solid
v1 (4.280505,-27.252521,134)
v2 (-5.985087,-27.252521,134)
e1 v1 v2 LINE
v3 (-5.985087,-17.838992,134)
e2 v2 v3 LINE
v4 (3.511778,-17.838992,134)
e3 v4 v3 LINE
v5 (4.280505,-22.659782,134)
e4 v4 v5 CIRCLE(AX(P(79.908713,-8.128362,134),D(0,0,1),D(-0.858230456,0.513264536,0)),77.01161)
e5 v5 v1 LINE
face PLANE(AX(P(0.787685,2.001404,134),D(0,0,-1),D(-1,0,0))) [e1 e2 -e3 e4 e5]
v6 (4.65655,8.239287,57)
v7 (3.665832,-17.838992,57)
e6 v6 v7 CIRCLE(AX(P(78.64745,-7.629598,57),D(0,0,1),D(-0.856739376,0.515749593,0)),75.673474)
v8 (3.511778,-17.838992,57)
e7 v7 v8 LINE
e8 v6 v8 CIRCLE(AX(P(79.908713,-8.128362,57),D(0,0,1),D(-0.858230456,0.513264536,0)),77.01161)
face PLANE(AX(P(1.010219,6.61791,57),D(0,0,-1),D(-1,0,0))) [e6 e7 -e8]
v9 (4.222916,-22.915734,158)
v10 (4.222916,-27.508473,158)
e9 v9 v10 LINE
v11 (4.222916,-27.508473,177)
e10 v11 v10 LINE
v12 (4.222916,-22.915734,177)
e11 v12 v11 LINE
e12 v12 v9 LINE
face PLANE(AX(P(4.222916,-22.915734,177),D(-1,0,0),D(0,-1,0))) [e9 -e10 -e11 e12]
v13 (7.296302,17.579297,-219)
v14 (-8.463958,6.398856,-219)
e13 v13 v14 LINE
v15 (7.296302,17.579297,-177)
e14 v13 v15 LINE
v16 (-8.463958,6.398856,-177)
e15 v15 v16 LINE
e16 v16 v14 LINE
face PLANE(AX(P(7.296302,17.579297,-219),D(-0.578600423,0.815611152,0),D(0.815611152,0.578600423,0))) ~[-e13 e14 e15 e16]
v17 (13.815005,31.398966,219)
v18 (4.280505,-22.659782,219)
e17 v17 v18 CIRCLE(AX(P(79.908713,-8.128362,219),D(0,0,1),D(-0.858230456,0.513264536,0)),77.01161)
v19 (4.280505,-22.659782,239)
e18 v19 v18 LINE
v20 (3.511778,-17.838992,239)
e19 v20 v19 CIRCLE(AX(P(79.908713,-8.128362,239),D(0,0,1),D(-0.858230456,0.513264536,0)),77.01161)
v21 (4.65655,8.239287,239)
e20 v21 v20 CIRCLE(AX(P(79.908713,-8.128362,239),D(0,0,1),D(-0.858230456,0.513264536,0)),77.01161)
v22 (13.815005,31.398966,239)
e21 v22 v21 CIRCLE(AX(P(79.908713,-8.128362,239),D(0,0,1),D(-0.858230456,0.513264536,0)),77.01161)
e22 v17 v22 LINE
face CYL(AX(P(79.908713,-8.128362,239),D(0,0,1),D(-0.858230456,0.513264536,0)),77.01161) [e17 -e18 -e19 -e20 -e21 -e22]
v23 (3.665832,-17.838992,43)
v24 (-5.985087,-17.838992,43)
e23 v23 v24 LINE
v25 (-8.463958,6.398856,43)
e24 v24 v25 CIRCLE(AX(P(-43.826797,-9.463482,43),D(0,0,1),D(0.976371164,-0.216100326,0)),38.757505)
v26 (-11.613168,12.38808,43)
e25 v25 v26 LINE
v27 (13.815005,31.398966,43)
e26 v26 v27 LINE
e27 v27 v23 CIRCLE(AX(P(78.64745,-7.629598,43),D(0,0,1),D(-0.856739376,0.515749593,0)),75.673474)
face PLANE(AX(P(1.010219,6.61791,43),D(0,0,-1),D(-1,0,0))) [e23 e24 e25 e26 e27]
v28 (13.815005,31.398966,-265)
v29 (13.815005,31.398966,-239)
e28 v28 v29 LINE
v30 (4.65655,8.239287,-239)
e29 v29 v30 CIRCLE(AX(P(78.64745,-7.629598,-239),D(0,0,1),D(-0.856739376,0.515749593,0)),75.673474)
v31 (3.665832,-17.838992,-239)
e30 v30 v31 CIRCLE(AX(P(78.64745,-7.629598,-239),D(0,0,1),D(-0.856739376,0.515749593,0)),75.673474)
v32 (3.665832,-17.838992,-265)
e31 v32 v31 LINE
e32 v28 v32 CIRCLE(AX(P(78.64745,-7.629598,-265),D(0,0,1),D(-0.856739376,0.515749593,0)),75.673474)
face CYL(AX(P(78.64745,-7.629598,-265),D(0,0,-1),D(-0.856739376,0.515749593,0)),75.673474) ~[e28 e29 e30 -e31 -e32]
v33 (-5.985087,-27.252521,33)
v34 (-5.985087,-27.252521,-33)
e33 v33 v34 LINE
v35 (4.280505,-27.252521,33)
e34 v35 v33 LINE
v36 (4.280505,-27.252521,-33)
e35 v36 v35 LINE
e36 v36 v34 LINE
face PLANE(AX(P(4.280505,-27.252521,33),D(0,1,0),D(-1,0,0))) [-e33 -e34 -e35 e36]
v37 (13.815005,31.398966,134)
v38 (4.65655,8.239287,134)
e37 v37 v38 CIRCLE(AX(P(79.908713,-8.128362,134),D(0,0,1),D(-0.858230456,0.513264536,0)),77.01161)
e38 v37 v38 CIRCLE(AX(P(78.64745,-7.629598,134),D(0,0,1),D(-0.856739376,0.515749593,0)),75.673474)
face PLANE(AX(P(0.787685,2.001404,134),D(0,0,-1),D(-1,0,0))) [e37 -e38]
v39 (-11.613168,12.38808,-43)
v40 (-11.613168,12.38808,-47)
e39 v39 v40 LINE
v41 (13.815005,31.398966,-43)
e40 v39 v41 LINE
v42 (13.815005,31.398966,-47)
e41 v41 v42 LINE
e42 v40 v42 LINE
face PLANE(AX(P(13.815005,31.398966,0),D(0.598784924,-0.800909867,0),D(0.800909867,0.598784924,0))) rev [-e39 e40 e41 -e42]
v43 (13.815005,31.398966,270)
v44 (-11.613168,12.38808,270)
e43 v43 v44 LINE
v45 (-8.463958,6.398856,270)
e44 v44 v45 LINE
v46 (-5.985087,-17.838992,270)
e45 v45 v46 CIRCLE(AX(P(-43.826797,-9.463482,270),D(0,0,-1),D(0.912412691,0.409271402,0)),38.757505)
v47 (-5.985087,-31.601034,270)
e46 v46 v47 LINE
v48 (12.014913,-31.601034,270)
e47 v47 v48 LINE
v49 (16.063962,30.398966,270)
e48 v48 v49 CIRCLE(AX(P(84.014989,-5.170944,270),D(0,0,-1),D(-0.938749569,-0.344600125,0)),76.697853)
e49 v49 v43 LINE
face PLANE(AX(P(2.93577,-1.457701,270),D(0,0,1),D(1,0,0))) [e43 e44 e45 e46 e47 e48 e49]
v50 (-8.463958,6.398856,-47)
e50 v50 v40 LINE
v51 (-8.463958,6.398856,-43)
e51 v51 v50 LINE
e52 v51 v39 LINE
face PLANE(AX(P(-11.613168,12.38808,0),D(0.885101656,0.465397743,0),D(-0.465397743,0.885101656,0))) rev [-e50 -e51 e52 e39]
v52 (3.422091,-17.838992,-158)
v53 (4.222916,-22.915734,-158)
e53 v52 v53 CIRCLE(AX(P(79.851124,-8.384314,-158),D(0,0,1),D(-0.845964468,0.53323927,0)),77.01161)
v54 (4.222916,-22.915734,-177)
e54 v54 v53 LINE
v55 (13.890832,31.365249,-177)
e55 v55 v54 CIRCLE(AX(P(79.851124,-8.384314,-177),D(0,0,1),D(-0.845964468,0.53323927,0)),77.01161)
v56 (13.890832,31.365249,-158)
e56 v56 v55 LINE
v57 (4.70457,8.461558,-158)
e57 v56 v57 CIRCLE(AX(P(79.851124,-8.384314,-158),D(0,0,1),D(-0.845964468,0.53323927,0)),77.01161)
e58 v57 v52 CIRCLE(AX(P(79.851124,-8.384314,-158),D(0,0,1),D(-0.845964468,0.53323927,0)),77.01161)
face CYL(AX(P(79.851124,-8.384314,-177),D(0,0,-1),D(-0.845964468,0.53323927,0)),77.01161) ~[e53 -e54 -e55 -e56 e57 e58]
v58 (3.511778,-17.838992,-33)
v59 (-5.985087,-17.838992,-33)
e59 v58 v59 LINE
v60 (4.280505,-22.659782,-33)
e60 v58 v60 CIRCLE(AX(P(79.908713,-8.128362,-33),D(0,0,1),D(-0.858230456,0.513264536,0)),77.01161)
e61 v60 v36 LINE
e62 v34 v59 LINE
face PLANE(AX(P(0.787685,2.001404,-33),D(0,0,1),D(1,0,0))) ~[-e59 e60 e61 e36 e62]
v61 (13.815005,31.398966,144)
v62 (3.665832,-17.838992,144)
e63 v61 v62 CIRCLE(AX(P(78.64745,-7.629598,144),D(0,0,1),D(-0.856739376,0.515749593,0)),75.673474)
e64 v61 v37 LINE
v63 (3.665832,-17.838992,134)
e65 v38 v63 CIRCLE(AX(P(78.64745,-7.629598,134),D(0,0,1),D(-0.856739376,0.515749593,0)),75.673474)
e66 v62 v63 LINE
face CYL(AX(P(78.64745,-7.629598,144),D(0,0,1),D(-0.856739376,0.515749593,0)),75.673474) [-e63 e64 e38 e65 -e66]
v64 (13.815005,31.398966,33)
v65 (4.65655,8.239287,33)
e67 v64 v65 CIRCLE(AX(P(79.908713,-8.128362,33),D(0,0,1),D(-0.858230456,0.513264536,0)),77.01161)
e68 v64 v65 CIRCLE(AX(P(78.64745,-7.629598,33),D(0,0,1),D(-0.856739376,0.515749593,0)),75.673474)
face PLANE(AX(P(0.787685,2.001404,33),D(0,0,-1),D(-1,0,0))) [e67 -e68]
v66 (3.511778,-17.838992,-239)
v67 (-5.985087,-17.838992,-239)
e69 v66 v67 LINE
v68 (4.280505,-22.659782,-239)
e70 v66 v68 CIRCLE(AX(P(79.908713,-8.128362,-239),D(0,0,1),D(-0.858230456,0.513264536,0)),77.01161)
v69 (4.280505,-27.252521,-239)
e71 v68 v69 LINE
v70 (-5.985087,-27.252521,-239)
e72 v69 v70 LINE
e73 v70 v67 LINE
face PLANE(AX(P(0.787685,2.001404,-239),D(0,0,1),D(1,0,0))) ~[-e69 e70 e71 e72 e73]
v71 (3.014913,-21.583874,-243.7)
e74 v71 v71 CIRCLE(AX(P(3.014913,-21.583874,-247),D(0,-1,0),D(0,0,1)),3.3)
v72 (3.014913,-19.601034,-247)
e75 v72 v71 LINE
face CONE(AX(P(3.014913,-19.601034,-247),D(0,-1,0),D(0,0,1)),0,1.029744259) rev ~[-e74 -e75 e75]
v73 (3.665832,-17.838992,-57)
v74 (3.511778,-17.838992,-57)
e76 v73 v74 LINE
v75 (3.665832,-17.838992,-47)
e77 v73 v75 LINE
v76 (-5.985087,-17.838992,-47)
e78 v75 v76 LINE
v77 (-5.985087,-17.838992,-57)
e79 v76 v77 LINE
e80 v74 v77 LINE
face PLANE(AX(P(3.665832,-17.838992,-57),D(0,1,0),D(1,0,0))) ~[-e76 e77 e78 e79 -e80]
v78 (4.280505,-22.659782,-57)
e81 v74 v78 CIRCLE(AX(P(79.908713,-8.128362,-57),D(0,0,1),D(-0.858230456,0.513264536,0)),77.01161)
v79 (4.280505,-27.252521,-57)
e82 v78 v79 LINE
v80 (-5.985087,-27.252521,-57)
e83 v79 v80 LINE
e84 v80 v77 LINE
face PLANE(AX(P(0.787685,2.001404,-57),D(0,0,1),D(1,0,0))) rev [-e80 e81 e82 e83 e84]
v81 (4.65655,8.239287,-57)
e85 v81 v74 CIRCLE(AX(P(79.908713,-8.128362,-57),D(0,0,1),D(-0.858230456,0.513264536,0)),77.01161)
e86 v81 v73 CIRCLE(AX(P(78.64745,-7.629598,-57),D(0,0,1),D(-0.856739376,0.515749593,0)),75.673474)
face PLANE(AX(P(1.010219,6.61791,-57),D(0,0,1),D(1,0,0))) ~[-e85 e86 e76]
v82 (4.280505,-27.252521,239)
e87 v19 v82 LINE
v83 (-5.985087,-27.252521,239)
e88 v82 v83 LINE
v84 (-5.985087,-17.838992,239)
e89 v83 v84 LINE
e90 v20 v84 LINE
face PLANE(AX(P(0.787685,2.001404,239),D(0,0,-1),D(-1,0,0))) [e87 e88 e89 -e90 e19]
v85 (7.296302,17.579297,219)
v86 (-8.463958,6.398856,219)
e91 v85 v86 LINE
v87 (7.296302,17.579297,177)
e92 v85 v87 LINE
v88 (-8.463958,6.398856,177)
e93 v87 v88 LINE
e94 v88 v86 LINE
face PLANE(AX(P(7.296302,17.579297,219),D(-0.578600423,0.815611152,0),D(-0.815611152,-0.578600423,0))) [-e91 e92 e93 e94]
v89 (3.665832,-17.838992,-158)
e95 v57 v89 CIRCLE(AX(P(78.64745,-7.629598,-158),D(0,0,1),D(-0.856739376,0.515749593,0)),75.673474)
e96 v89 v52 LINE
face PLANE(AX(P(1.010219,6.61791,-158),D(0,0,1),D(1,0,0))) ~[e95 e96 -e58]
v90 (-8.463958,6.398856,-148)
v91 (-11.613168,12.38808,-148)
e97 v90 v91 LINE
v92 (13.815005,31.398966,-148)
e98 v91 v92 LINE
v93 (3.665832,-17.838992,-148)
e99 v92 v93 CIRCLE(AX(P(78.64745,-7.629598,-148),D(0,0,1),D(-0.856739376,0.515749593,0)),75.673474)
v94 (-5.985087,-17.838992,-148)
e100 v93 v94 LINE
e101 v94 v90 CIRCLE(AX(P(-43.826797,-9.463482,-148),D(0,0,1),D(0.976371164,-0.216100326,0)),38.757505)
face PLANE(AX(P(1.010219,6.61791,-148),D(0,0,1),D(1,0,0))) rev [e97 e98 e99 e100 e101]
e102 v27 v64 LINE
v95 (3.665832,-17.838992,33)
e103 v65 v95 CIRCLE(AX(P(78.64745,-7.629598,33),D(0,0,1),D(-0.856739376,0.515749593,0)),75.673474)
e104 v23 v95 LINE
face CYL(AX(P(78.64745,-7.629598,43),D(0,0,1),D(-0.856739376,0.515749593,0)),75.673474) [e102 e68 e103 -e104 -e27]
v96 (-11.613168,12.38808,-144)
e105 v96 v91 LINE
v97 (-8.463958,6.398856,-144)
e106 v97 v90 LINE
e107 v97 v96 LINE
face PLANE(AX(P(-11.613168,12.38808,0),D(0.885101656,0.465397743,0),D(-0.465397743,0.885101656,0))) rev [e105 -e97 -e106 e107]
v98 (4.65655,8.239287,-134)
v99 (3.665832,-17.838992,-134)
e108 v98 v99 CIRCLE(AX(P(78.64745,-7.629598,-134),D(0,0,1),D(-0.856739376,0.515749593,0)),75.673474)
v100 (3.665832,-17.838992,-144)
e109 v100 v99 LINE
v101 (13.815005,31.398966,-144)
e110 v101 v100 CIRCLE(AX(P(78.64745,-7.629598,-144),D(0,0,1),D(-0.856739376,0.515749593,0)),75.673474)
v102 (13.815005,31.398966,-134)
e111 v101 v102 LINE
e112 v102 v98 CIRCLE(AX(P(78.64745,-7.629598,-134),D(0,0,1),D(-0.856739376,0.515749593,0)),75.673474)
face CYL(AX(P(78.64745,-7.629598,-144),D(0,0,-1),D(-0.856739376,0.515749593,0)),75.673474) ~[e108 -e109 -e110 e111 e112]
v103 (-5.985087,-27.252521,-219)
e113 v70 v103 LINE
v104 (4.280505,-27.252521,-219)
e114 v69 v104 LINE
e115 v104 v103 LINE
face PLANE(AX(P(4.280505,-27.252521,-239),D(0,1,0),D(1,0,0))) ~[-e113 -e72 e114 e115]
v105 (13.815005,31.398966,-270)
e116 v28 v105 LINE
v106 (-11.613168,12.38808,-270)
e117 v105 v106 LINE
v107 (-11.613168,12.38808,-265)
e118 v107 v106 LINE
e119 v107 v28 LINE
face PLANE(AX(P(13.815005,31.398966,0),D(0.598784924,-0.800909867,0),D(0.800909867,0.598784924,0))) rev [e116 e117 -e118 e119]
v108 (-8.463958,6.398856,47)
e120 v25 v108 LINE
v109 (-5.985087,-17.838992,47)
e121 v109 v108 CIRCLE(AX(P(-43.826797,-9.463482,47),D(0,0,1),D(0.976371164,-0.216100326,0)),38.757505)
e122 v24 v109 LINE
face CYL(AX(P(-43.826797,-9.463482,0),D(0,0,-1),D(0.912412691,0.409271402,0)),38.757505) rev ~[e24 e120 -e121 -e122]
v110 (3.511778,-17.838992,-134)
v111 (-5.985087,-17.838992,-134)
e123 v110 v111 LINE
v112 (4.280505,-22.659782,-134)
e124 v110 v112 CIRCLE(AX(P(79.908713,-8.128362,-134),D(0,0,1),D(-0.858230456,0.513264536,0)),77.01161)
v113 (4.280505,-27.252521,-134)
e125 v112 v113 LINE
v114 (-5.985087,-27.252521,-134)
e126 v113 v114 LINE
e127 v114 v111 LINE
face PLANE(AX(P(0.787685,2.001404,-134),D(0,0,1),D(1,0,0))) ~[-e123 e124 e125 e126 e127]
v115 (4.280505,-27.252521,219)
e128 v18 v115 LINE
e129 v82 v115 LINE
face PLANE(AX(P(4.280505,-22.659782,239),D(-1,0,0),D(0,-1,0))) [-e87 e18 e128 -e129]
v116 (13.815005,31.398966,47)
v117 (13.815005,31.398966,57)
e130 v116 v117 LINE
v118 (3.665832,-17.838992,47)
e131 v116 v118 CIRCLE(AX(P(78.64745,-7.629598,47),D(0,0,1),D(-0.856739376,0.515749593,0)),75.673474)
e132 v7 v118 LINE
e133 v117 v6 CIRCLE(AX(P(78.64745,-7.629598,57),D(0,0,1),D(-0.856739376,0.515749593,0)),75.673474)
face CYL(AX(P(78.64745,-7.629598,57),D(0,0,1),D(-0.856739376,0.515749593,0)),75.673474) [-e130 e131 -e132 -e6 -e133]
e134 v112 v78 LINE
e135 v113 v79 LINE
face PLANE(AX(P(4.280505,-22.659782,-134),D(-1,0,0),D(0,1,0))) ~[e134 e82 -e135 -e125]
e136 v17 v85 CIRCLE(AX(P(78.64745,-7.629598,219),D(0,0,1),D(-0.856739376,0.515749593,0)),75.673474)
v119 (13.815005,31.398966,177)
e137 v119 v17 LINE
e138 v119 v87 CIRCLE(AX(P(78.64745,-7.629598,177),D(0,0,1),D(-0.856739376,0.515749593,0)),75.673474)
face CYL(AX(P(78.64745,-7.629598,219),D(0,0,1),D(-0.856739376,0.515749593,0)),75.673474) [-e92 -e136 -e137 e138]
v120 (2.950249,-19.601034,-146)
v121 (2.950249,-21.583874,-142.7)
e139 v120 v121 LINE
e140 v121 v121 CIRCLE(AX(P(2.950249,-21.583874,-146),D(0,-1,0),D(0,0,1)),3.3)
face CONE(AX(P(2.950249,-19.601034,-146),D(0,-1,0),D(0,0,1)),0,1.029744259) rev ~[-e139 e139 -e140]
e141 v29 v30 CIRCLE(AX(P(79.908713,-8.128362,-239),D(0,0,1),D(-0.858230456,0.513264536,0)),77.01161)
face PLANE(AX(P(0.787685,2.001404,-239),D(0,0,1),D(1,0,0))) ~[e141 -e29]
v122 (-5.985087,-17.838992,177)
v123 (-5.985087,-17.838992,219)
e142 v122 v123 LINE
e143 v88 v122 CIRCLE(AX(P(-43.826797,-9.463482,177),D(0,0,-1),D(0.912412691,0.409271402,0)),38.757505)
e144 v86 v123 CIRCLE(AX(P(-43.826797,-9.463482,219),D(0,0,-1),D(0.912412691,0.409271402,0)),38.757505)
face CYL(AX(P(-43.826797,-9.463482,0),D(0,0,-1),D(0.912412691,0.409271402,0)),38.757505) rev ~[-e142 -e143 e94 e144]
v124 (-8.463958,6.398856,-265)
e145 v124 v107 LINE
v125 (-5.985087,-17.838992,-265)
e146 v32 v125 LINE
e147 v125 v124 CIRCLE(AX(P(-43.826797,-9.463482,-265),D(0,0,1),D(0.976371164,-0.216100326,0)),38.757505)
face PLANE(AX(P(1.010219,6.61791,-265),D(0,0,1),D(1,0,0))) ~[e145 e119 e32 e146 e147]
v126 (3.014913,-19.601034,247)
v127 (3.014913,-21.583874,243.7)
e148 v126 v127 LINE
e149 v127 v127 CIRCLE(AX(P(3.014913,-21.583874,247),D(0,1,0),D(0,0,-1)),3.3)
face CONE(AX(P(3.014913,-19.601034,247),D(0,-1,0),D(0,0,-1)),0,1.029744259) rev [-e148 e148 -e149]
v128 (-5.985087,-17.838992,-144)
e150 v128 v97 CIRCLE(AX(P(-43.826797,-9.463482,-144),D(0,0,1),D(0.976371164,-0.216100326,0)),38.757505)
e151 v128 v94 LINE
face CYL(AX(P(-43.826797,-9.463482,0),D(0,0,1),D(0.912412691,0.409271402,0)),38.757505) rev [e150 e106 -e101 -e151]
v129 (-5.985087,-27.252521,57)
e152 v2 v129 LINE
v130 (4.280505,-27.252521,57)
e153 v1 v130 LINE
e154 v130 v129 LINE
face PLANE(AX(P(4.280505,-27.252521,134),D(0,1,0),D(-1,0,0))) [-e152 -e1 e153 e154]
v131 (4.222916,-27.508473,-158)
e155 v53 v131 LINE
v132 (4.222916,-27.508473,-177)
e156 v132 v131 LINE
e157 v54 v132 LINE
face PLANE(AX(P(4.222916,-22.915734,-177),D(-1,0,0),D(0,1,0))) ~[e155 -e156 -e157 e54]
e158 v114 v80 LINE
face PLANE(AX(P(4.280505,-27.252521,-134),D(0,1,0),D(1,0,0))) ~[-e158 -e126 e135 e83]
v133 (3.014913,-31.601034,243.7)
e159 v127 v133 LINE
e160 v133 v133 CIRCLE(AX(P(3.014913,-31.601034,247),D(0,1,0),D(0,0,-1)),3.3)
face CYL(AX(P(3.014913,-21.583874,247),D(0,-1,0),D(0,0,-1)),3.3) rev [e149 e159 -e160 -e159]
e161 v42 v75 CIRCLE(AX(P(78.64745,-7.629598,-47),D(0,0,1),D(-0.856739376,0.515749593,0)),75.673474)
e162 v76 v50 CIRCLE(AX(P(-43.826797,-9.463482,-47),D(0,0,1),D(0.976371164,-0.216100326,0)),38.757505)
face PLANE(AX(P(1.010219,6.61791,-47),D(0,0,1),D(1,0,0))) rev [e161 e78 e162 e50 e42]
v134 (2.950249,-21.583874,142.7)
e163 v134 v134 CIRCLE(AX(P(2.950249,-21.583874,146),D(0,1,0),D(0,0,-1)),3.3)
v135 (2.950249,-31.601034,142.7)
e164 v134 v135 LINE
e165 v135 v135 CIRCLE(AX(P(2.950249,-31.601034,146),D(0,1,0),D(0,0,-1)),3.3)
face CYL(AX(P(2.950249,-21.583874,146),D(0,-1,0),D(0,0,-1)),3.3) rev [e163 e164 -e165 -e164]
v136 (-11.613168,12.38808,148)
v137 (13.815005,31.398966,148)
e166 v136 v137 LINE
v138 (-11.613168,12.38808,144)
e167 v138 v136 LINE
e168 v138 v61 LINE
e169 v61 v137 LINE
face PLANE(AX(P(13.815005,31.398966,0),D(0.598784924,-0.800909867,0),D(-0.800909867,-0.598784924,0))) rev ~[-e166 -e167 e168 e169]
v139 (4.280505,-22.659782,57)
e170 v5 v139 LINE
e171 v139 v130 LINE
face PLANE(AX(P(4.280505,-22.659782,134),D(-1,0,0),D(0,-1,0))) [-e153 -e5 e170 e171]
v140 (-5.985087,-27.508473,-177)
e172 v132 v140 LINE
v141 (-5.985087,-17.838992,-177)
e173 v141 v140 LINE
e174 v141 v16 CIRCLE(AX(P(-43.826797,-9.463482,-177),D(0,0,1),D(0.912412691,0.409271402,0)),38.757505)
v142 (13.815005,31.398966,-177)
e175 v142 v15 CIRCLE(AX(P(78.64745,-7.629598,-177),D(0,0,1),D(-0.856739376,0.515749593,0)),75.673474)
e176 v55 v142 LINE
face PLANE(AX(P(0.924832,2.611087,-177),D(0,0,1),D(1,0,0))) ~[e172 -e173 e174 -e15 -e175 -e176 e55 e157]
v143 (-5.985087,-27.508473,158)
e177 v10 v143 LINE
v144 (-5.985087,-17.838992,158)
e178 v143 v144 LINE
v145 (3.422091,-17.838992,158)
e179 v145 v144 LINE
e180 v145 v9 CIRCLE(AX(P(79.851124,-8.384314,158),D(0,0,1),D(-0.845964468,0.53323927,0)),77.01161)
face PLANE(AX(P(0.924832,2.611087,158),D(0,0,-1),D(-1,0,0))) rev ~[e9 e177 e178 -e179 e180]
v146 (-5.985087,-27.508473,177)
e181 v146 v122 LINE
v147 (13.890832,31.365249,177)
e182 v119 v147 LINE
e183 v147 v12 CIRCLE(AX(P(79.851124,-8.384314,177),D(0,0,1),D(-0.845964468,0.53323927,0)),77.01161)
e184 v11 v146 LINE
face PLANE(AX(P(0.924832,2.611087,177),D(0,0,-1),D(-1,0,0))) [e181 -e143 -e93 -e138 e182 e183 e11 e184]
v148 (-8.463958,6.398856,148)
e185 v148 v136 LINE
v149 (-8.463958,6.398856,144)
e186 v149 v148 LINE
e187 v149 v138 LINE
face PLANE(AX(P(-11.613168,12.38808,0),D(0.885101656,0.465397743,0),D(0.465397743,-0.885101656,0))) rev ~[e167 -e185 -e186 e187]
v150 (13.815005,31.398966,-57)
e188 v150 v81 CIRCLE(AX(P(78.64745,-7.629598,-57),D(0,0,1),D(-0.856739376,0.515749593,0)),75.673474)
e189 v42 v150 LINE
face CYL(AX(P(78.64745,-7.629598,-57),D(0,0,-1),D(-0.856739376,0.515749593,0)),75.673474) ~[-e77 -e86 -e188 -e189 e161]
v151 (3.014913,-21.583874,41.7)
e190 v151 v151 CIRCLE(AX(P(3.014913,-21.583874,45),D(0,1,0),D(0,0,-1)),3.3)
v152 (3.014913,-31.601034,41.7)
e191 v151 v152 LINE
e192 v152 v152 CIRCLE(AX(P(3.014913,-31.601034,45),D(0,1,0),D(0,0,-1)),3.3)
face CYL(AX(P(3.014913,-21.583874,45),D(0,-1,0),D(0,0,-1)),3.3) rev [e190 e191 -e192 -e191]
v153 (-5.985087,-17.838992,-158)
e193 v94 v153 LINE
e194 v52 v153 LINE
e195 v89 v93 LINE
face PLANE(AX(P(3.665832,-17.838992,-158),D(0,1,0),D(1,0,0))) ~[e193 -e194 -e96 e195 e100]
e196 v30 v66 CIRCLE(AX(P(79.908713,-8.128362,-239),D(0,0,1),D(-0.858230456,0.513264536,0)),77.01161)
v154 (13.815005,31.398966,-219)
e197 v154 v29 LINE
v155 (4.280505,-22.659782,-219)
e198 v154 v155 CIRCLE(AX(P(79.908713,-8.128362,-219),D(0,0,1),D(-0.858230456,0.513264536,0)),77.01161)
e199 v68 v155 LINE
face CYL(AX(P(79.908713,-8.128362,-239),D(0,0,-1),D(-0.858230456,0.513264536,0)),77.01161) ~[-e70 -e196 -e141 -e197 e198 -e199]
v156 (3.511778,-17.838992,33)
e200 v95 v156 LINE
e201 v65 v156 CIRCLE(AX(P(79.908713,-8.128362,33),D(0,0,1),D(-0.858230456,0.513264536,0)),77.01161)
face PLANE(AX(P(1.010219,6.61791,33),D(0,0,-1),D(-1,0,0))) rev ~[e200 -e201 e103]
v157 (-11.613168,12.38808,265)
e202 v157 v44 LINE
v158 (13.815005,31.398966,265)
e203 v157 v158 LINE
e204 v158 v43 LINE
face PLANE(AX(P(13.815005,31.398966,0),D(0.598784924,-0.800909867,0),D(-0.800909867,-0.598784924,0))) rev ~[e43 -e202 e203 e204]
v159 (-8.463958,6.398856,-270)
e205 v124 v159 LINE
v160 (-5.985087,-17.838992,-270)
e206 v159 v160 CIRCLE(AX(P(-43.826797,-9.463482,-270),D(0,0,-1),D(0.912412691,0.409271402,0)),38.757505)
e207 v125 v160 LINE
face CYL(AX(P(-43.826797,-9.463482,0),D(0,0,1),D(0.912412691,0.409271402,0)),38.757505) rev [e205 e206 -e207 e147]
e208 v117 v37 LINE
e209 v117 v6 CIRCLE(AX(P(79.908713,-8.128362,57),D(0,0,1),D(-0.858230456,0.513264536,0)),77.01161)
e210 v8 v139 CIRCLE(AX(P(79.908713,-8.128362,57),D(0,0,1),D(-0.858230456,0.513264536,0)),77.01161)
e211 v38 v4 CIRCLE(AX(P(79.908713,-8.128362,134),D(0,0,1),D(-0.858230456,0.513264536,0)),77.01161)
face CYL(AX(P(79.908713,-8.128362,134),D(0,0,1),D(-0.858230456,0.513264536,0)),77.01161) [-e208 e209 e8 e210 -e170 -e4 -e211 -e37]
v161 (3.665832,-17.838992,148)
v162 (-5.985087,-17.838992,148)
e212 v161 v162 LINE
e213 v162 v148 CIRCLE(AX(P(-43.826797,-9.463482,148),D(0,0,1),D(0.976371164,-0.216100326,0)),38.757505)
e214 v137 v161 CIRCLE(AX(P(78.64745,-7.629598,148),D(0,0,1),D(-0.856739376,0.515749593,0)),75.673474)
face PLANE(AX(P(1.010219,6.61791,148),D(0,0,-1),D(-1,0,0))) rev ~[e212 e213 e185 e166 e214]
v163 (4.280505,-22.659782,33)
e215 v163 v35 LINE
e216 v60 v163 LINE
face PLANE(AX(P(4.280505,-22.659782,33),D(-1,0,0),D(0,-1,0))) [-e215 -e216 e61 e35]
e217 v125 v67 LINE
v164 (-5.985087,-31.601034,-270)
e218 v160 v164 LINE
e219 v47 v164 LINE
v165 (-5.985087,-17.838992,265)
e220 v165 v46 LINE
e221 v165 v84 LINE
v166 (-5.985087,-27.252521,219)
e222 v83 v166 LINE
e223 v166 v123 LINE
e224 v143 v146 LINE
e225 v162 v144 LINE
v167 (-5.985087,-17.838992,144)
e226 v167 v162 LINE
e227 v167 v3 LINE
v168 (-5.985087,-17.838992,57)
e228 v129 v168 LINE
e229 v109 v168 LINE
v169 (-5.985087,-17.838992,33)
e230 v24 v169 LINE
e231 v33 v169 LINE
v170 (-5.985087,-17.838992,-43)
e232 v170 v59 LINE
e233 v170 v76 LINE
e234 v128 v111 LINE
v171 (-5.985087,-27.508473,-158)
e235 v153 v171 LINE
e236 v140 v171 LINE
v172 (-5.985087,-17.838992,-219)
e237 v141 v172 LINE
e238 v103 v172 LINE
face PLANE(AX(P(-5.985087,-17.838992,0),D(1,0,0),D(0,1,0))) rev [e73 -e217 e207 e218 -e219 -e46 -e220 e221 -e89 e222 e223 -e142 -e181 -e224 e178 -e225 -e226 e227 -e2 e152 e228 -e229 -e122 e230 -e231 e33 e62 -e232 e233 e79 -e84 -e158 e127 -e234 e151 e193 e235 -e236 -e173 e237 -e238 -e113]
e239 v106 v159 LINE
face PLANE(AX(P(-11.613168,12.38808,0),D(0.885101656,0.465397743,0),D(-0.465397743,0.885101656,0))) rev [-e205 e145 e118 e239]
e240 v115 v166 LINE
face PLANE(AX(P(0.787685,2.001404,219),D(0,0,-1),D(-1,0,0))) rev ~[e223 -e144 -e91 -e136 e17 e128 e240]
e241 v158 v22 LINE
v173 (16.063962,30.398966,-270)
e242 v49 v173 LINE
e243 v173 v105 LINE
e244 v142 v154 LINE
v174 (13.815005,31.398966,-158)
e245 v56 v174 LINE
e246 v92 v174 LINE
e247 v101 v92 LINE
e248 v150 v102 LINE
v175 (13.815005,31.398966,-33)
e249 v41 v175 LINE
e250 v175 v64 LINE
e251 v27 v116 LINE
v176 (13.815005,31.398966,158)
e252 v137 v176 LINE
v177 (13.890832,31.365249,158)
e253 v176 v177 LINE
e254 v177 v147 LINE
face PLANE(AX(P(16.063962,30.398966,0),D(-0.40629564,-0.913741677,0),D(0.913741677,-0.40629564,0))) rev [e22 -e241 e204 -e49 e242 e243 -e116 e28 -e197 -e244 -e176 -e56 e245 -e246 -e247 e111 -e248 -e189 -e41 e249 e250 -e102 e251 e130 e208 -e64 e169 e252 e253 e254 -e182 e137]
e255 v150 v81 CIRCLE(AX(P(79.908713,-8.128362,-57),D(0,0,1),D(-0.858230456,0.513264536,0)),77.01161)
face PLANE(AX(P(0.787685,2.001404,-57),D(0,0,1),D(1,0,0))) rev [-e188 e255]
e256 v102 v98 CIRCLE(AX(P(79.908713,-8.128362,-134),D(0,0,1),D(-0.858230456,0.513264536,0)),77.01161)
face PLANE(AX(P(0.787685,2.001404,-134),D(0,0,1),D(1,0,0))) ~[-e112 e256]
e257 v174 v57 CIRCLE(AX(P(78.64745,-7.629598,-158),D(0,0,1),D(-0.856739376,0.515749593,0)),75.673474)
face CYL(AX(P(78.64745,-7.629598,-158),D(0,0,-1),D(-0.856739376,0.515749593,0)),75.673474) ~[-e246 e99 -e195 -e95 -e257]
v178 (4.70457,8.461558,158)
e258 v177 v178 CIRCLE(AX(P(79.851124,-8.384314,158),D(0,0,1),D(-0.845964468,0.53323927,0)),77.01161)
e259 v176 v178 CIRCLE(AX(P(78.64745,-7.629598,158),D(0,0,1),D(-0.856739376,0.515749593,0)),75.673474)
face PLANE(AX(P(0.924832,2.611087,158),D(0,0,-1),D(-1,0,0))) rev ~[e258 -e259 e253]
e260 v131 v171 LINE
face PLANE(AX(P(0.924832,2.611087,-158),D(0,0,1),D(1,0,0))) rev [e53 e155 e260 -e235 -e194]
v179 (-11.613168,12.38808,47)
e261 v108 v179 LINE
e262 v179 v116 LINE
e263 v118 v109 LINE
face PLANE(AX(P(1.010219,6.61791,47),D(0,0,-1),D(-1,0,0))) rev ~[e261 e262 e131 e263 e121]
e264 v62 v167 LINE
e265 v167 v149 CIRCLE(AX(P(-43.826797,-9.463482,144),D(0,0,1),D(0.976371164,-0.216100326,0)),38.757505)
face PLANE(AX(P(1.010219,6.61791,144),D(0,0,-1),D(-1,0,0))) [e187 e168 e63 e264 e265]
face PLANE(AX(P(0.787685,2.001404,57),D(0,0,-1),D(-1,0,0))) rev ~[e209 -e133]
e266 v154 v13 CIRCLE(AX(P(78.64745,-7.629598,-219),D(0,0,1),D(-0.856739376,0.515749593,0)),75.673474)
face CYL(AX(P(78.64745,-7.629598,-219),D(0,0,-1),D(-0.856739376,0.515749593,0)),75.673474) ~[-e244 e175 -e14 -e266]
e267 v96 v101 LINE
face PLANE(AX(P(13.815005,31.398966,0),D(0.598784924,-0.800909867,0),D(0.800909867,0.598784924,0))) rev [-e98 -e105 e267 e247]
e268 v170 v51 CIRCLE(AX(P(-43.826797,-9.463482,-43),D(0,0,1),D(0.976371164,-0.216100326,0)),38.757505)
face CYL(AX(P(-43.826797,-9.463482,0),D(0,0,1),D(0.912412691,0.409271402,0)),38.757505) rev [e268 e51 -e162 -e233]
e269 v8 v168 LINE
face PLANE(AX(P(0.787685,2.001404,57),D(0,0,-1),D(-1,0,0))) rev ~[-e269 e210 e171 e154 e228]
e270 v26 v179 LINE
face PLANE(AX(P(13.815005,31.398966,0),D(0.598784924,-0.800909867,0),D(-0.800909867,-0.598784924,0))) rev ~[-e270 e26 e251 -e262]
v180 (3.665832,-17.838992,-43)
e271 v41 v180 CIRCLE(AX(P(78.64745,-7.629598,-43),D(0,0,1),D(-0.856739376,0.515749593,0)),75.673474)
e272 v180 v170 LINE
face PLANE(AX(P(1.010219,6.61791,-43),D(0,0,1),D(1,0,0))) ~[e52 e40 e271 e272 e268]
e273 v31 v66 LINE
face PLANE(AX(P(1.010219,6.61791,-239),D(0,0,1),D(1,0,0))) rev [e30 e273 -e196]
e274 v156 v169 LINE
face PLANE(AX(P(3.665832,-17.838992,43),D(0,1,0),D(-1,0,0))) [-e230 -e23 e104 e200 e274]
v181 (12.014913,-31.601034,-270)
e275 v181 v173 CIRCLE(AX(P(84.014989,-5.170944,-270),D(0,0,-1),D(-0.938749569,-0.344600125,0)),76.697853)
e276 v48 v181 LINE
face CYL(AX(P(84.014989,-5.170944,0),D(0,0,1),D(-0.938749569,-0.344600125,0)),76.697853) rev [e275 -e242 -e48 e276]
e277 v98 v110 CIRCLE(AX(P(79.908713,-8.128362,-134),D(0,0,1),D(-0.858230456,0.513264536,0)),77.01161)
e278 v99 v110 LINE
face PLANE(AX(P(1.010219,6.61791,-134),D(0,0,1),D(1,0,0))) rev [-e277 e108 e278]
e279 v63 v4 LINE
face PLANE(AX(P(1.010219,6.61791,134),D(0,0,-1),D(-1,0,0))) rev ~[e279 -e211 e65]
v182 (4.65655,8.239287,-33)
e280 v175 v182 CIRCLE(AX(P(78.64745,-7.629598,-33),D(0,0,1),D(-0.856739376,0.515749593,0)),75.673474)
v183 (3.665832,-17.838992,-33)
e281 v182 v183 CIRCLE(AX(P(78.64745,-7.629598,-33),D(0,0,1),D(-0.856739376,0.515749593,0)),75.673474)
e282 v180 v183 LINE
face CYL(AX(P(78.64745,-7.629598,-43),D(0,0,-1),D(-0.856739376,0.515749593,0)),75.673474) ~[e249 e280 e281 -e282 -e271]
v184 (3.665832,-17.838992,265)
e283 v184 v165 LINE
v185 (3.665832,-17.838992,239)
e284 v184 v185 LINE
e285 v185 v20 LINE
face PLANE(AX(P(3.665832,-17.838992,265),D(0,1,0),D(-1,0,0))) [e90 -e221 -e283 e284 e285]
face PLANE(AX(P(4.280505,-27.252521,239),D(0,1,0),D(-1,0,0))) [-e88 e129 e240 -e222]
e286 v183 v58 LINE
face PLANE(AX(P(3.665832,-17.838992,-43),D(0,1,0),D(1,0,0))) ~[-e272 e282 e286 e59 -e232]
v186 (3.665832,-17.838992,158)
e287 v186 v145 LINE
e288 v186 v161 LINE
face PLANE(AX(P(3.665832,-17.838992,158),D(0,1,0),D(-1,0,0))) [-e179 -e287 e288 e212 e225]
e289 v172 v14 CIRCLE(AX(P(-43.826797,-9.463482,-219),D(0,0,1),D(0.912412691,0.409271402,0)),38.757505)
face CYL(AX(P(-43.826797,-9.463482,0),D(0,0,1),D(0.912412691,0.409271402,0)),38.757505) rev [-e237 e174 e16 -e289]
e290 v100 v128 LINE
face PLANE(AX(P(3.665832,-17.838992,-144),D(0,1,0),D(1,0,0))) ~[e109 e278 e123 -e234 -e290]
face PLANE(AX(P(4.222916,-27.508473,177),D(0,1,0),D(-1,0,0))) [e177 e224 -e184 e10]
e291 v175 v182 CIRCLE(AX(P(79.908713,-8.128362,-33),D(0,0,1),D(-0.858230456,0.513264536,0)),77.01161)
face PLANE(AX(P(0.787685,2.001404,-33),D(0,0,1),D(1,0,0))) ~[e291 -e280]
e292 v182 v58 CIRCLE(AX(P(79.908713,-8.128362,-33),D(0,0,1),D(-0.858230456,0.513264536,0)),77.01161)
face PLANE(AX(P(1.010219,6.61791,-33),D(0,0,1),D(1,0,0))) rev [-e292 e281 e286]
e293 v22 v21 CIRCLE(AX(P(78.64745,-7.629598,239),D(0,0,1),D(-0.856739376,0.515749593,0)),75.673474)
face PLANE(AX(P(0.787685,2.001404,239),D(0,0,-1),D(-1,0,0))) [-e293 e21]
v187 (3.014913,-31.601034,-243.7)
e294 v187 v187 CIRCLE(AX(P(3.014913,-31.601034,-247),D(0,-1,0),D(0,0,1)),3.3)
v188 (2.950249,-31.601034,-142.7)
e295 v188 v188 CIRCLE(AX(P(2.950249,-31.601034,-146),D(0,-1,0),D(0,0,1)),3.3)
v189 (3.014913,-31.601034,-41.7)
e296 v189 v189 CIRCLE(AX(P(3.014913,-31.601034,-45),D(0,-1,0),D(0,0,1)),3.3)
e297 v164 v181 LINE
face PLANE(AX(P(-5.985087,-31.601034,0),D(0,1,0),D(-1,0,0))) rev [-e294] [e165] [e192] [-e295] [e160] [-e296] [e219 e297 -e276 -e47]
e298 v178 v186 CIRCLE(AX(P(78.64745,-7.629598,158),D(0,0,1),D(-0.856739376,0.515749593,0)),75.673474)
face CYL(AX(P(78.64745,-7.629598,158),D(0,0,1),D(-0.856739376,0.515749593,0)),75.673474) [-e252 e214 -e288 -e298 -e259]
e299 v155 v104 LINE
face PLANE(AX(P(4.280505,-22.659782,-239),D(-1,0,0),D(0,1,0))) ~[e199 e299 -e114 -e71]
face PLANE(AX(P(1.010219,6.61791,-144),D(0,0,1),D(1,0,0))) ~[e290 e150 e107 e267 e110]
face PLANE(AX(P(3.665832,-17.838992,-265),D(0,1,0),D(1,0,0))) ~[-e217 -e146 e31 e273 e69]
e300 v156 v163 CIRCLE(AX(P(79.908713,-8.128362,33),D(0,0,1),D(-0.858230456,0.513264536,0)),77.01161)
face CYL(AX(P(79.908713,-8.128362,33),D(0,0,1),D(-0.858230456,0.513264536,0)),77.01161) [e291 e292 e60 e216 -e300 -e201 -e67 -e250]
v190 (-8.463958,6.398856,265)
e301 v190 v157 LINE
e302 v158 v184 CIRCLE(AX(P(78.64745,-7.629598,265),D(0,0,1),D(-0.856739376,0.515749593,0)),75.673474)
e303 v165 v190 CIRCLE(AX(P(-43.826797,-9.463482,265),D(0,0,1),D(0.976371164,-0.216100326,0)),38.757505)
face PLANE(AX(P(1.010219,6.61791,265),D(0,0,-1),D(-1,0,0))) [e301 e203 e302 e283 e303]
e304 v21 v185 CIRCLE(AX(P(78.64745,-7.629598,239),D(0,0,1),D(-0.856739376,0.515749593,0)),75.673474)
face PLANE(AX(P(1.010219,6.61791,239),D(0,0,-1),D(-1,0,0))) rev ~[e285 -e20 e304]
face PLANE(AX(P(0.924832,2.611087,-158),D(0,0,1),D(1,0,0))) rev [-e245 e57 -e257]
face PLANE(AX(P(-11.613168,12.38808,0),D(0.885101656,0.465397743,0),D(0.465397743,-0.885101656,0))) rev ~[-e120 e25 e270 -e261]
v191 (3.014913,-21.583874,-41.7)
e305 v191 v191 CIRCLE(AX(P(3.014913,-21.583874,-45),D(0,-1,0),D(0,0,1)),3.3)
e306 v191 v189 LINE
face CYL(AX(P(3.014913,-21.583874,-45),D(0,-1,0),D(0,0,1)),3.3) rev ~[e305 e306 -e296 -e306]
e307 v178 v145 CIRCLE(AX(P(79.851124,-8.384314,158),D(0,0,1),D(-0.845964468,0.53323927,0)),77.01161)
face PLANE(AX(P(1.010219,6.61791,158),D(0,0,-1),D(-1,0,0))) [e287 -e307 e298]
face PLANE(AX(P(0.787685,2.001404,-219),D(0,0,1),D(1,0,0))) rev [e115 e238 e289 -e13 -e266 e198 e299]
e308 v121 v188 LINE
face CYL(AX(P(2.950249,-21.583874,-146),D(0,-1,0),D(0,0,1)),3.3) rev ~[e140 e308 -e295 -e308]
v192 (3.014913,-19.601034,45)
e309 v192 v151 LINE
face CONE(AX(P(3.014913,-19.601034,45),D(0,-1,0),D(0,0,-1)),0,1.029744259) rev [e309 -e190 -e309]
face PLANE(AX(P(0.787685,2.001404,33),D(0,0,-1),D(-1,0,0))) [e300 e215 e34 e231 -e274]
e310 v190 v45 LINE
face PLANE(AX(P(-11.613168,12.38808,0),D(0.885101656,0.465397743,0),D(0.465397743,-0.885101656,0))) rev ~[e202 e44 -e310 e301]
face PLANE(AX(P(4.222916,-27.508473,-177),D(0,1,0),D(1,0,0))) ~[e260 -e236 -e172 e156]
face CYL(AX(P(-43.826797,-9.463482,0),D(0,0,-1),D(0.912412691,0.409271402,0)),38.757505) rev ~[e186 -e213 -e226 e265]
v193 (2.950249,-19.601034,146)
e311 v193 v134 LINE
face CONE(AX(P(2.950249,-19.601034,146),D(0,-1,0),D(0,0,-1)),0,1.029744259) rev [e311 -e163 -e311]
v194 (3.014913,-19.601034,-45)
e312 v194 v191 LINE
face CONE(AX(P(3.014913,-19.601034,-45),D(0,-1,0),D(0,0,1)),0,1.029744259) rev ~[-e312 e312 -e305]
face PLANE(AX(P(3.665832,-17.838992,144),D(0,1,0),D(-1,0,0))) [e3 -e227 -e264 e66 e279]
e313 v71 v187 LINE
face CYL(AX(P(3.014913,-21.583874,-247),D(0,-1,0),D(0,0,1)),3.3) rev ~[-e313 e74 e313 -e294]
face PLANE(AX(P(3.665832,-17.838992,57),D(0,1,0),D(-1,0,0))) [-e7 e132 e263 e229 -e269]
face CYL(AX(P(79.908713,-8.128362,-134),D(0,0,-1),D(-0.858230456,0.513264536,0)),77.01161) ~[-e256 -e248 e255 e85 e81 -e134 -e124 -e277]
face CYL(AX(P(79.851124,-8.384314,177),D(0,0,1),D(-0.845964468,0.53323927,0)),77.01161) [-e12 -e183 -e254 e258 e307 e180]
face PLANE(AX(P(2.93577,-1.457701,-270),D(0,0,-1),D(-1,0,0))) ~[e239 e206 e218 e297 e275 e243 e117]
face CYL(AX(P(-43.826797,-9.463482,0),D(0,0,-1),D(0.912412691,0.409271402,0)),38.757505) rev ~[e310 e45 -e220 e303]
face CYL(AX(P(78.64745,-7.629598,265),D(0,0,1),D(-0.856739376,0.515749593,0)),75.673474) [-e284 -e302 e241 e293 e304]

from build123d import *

# Parameters (mm, degrees)
BOSS_EXTRU_1_DEPTH       = 270
ENL_V_MAT_EXTRU_4_DEPTH  = 26
ENL_V_MAT_EXTRU_5_DEPTH  = 20
ENL_V_MAT_EXTRU_6_DEPTH  = 42
ENL_V_MAT_EXTRU_7_DEPTH  = 19
ENL_V_MAT_EXTRU_8_DEPTH  = 10
ENL_V_MAT_EXTRU_9_DEPTH  = 10
ENL_V_MAT_EXTRU_10_DEPTH = 77
ENL_V_MAT_EXTRU_11_DEPTH = 10
ENL_V_MAT_EXTRU_12_DEPTH = 10
ENL_V_MAT_EXTRU_13_DEPTH = 37


with BuildPart() as part:
    # Esquisse1 → Boss.-Extru.1 (new body)
    with BuildSketch(Plane.XY):
        with BuildLine():
            Line((16.063962193, 30.398965806), (13.815004567, 31.398965806))
            Line((13.815004567, 31.398965806), (-11.613167833, 12.388079656))
            Line((-11.613167833, 12.388079656), (-8.463957616, 6.398855993))
            ThreePointArc((-8.463957616, 6.398855993), (-5.270411832, -5.520215773), (-5.985086805, -17.838991935))
            Line((-5.985086805, -17.838991935), (-5.985086805, -31.601034194))
            Line((-5.985086805, -31.601034194), (12.014913195, -31.601034194))
            ThreePointArc((12.014913195, -31.601034194), (7.480174869, -0.17266683), (16.063962193, 30.398965806))
        make_face()
    boss_extru_1 = extrude(amount=BOSS_EXTRU_1_DEPTH)

    # Esquisse3 → Enlèv. mat.-Extru.4 (cut)
    with BuildSketch(Plane.XY.offset(265)):
        with BuildLine():
            Line((-8.463957616, 6.398855993), (-11.613167833, 12.388079656))
            Line((-11.613167833, 12.388079656), (13.815004567, 31.398965806))
            ThreePointArc((13.815004567, 31.398965806), (4.532085849, 7.647429334), (3.665832045, -17.838991935))
            Line((3.665832045, -17.838991935), (-5.985086805, -17.838991935))
            ThreePointArc((-5.985086805, -17.838991935), (-5.270411832, -5.520215773), (-8.463957616, 6.398855993))
        make_face()
    enl_v_mat_extru_4 = extrude(amount=-ENL_V_MAT_EXTRU_4_DEPTH, mode=Mode.SUBTRACT)

    # Esquisse5 → Enlèv. mat.-Extru.5 (cut)
    with BuildSketch(Plane.XY.offset(239)):
        with BuildLine():
            Line((-8.463959076, 6.398857946), (-11.613169295, 12.388081611))
            Line((-11.613169295, 12.388081611), (13.815004567, 31.398965806))
            ThreePointArc((13.815004567, 31.398965806), (4.067679065, 5.247942268), (4.28050542, -22.659782317))
            Line((4.28050542, -22.659782317), (4.28050542, -27.25252086))
            Line((4.28050542, -27.25252086), (-5.985086805, -27.25252086))
            Line((-5.985086805, -27.25252086), (-5.985086805, -17.838991935))
            ThreePointArc((-5.985086805, -17.838991935), (-5.270412229, -5.520214661), (-8.463959076, 6.398857946))
        make_face()
    enl_v_mat_extru_5 = extrude(amount=-ENL_V_MAT_EXTRU_5_DEPTH, mode=Mode.SUBTRACT)

    # Esquisse6 → Enlèv. mat.-Extru.6 (cut)
    with BuildSketch(Plane.XY.offset(219)):
        with BuildLine():
            Line((-8.463957616, 6.398855993), (-11.613167833, 12.388079656))
            Line((-11.613167833, 12.388079656), (13.815004567, 31.398965806))
            ThreePointArc((13.815004567, 31.398965806), (10.20595229, 24.654084621), (7.296301708, 17.579297414))
            Line((7.296301708, 17.579297414), (-8.463957616, 6.398855993))
        make_face()
    enl_v_mat_extru_6 = extrude(amount=-ENL_V_MAT_EXTRU_6_DEPTH, mode=Mode.SUBTRACT)

    # Esquisse9 → Enlèv. mat.-Extru.7 (cut)
    with BuildSketch(Plane.XY.offset(177)):
        with BuildLine():
            Line((-8.521548111, 6.142905843), (-11.984807414, 12.729393608))
            Line((-11.984807414, 12.729393608), (14.702039036, 32.681300109))
            ThreePointArc((14.702039036, 32.681300109), (4.172070852, 5.87993715), (4.222916385, -22.91573442))
            Line((4.222916385, -22.91573442), (4.222916385, -27.508472963))
            Line((4.222916385, -27.508472963), (-6.04267584, -27.508472963))
            Line((-6.04267584, -27.508472963), (-6.04267584, -18.094944039))
            ThreePointArc((-6.04267584, -18.094944039), (-5.328001264, -5.776166764), (-8.521548111, 6.142905843))
        make_face()
    enl_v_mat_extru_7 = extrude(amount=-ENL_V_MAT_EXTRU_7_DEPTH, mode=Mode.SUBTRACT)

    # Esquisse10 → Enlèv. mat.-Extru.8 (cut)
    with BuildSketch(Plane.XY.offset(158)):
        with BuildLine():
            Line((-8.463957616, 6.398855993), (-11.613167833, 12.388079656))
            Line((-11.613167833, 12.388079656), (13.815004567, 31.398965806))
            ThreePointArc((13.815004567, 31.398965806), (4.532085849, 7.647429334), (3.665832045, -17.838991935))
            Line((3.665832045, -17.838991935), (-5.985086805, -17.838991935))
            ThreePointArc((-5.985086805, -17.838991935), (-5.270411832, -5.520215773), (-8.463957616, 6.398855993))
        make_face()
    enl_v_mat_extru_8 = extrude(amount=-ENL_V_MAT_EXTRU_8_DEPTH, mode=Mode.SUBTRACT)

    # Esquisse11 → Enlèv. mat.-Extru.9 (cut)
    with BuildSketch(Plane.XY.offset(144)):
        with BuildLine():
            Line((-8.463957616, 6.398855993), (-11.613167833, 12.388079656))
            Line((-11.613167833, 12.388079656), (13.815004567, 31.398965806))
            ThreePointArc((13.815004567, 31.398965806), (4.532085849, 7.647429334), (3.665832045, -17.838991935))
            Line((3.665832045, -17.838991935), (-5.985086805, -17.838991935))
            ThreePointArc((-5.985086805, -17.838991935), (-5.270411832, -5.520215773), (-8.463957616, 6.398855993))
        make_face()
    enl_v_mat_extru_9 = extrude(amount=-ENL_V_MAT_EXTRU_9_DEPTH, mode=Mode.SUBTRACT)

    # Esquisse12 → Enlèv. mat.-Extru.10 (cut)
    with BuildSketch(Plane.XY.offset(134)):
        with BuildLine():
            Line((-8.463959076, 6.398857946), (-11.613169295, 12.388081611))
            Line((-11.613169295, 12.388081611), (13.815004567, 31.398965806))
            ThreePointArc((13.815004567, 31.398965806), (4.067679065, 5.247942268), (4.28050542, -22.659782317))
            Line((4.28050542, -22.659782317), (4.28050542, -27.25252086))
            Line((4.28050542, -27.25252086), (-5.985086805, -27.25252086))
            Line((-5.985086805, -27.25252086), (-5.985086805, -17.838991935))
            ThreePointArc((-5.985086805, -17.838991935), (-5.270412229, -5.520214661), (-8.463959076, 6.398857946))
        make_face()
    enl_v_mat_extru_10 = extrude(amount=-ENL_V_MAT_EXTRU_10_DEPTH, mode=Mode.SUBTRACT)

    # Esquisse13 → Enlèv. mat.-Extru.11 (cut)
    with BuildSketch(Plane.XY.offset(57)):
        with BuildLine():
            Line((-8.463957616, 6.398855993), (-11.613167833, 12.388079656))
            Line((-11.613167833, 12.388079656), (13.815004567, 31.398965806))
            ThreePointArc((13.815004567, 31.398965806), (4.532085849, 7.647429334), (3.665832045, -17.838991935))
            Line((3.665832045, -17.838991935), (-5.985086805, -17.838991935))
            ThreePointArc((-5.985086805, -17.838991935), (-5.270411832, -5.520215773), (-8.463957616, 6.398855993))
        make_face()
    enl_v_mat_extru_11 = extrude(amount=-ENL_V_MAT_EXTRU_11_DEPTH, mode=Mode.SUBTRACT)

    # Esquisse14 → Enlèv. mat.-Extru.12 (cut)
    with BuildSketch(Plane.XY.offset(43)):
        with BuildLine():
            Line((-8.463957616, 6.398855993), (-11.613167833, 12.388079656))
            Line((-11.613167833, 12.388079656), (13.815004567, 31.398965806))
            ThreePointArc((13.815004567, 31.398965806), (4.532085849, 7.647429334), (3.665832045, -17.838991935))
            Line((3.665832045, -17.838991935), (-5.985086805, -17.838991935))
            ThreePointArc((-5.985086805, -17.838991935), (-5.270411832, -5.520215773), (-8.463957616, 6.398855993))
        make_face()
    enl_v_mat_extru_12 = extrude(amount=-ENL_V_MAT_EXTRU_12_DEPTH, mode=Mode.SUBTRACT)

    # Esquisse15 → Enlèv. mat.-Extru.13 (cut)
    with BuildSketch(Plane.XY.offset(33)):
        with BuildLine():
            Line((-8.463959076, 6.398857946), (-11.613169295, 12.388081611))
            Line((-11.613169295, 12.388081611), (13.815004567, 31.398965806))
            ThreePointArc((13.815004567, 31.398965806), (4.067679065, 5.247942268), (4.28050542, -22.659782317))
            Line((4.28050542, -22.659782317), (4.28050542, -27.25252086))
            Line((4.28050542, -27.25252086), (-5.985086805, -27.25252086))
            Line((-5.985086805, -27.25252086), (-5.985086805, -17.838991935))
            ThreePointArc((-5.985086805, -17.838991935), (-5.270412229, -5.520214661), (-8.463959076, 6.398857946))
        make_face()
    enl_v_mat_extru_13 = extrude(amount=-ENL_V_MAT_EXTRU_13_DEPTH, mode=Mode.SUBTRACT)

    # Symétrie1: Boss.-Extru.1, Enlèv. mat.-Extru.4, Enlèv. mat.-Extru.5, Enlèv. mat.-Extru.6, Enlèv. mat.-Extru.7, Enlèv. mat.-Extru.8, Enlèv. mat.-Extru.9, Enlèv. mat.-Extru.10, Enlèv. mat.-Extru.11, Enlèv. mat.-Extru.12, Enlèv. mat.-Extru.13 across plane
    add(boss_extru_1.mirror(Plane(origin=(0, 0, 0), x_dir=(1, 0, 0), z_dir=(0, 0, -1))))
    add(enl_v_mat_extru_4.mirror(Plane(origin=(0, 0, 0), x_dir=(1, 0, 0), z_dir=(0, 0, -1))), mode=Mode.SUBTRACT)
    add(enl_v_mat_extru_5.mirror(Plane(origin=(0, 0, 0), x_dir=(1, 0, 0), z_dir=(0, 0, -1))), mode=Mode.SUBTRACT)
    add(enl_v_mat_extru_6.mirror(Plane(origin=(0, 0, 0), x_dir=(1, 0, 0), z_dir=(0, 0, -1))), mode=Mode.SUBTRACT)
    add(enl_v_mat_extru_7.mirror(Plane(origin=(0, 0, 0), x_dir=(1, 0, 0), z_dir=(0, 0, -1))), mode=Mode.SUBTRACT)
    add(enl_v_mat_extru_8.mirror(Plane(origin=(0, 0, 0), x_dir=(1, 0, 0), z_dir=(0, 0, -1))), mode=Mode.SUBTRACT)
    add(enl_v_mat_extru_9.mirror(Plane(origin=(0, 0, 0), x_dir=(1, 0, 0), z_dir=(0, 0, -1))), mode=Mode.SUBTRACT)
    add(enl_v_mat_extru_10.mirror(Plane(origin=(0, 0, 0), x_dir=(1, 0, 0), z_dir=(0, 0, -1))), mode=Mode.SUBTRACT)
    add(enl_v_mat_extru_11.mirror(Plane(origin=(0, 0, 0), x_dir=(1, 0, 0), z_dir=(0, 0, -1))), mode=Mode.SUBTRACT)
    add(enl_v_mat_extru_12.mirror(Plane(origin=(0, 0, 0), x_dir=(1, 0, 0), z_dir=(0, 0, -1))), mode=Mode.SUBTRACT)
    add(enl_v_mat_extru_13.mirror(Plane(origin=(0, 0, 0), x_dir=(1, 0, 0), z_dir=(0, 0, -1))), mode=Mode.SUBTRACT)

    # Esquisse27 → Trou taraudé G1/162 (revolve, cut)
    with BuildSketch(Plane(origin=(3.014913195, -31.601034194, 247), x_dir=(0, 0, -1), z_dir=(1, 0, 0))):
        Polygon((0, 0), (0, 12), (3.3, 10.017159957), (3.3, 0), align=None)
    trou_taraud_g1_162 = revolve(axis=Axis((3.014913195, -37.951034194, 247), (0, 1, 0)), mode=Mode.SUBTRACT)

    # Esquisse28 → Trou taraudé G1/163 (revolve, cut)
    with BuildSketch(Plane(origin=(2.950249404, -31.601034194, 146), x_dir=(0, 0, -1), z_dir=(1, 0, 0))):
        Polygon((0, 0), (0, 12), (3.3, 10.017159957), (3.3, 0), align=None)
    trou_taraud_g1_163 = revolve(axis=Axis((2.950249404, -37.951034194, 146), (0, 1, 0)), mode=Mode.SUBTRACT)

    # Esquisse29 → Trou taraudé G1/164 (revolve, cut)
    with BuildSketch(Plane(origin=(3.014913195, -31.601034194, 45), x_dir=(0, 0, -1), z_dir=(1, 0, 0))):
        Polygon((0, 0), (0, 12), (3.3, 10.017159957), (3.3, 0), align=None)
    trou_taraud_g1_164 = revolve(axis=Axis((3.014913195, -37.951034194, 45), (0, 1, 0)), mode=Mode.SUBTRACT)

    # Symétrie2: Trou taraudé G1/162, Trou taraudé G1/163, Trou taraudé G1/164 across plane
    add(trou_taraud_g1_162.mirror(Plane(origin=(0, 0, 0), x_dir=(1, 0, 0), z_dir=(0, 0, -1))), mode=Mode.SUBTRACT)
    add(trou_taraud_g1_163.mirror(Plane(origin=(0, 0, 0), x_dir=(1, 0, 0), z_dir=(0, 0, -1))), mode=Mode.SUBTRACT)
    add(trou_taraud_g1_164.mirror(Plane(origin=(0, 0, 0), x_dir=(1, 0, 0), z_dir=(0, 0, -1))), mode=Mode.SUBTRACT)


solid = part.part
